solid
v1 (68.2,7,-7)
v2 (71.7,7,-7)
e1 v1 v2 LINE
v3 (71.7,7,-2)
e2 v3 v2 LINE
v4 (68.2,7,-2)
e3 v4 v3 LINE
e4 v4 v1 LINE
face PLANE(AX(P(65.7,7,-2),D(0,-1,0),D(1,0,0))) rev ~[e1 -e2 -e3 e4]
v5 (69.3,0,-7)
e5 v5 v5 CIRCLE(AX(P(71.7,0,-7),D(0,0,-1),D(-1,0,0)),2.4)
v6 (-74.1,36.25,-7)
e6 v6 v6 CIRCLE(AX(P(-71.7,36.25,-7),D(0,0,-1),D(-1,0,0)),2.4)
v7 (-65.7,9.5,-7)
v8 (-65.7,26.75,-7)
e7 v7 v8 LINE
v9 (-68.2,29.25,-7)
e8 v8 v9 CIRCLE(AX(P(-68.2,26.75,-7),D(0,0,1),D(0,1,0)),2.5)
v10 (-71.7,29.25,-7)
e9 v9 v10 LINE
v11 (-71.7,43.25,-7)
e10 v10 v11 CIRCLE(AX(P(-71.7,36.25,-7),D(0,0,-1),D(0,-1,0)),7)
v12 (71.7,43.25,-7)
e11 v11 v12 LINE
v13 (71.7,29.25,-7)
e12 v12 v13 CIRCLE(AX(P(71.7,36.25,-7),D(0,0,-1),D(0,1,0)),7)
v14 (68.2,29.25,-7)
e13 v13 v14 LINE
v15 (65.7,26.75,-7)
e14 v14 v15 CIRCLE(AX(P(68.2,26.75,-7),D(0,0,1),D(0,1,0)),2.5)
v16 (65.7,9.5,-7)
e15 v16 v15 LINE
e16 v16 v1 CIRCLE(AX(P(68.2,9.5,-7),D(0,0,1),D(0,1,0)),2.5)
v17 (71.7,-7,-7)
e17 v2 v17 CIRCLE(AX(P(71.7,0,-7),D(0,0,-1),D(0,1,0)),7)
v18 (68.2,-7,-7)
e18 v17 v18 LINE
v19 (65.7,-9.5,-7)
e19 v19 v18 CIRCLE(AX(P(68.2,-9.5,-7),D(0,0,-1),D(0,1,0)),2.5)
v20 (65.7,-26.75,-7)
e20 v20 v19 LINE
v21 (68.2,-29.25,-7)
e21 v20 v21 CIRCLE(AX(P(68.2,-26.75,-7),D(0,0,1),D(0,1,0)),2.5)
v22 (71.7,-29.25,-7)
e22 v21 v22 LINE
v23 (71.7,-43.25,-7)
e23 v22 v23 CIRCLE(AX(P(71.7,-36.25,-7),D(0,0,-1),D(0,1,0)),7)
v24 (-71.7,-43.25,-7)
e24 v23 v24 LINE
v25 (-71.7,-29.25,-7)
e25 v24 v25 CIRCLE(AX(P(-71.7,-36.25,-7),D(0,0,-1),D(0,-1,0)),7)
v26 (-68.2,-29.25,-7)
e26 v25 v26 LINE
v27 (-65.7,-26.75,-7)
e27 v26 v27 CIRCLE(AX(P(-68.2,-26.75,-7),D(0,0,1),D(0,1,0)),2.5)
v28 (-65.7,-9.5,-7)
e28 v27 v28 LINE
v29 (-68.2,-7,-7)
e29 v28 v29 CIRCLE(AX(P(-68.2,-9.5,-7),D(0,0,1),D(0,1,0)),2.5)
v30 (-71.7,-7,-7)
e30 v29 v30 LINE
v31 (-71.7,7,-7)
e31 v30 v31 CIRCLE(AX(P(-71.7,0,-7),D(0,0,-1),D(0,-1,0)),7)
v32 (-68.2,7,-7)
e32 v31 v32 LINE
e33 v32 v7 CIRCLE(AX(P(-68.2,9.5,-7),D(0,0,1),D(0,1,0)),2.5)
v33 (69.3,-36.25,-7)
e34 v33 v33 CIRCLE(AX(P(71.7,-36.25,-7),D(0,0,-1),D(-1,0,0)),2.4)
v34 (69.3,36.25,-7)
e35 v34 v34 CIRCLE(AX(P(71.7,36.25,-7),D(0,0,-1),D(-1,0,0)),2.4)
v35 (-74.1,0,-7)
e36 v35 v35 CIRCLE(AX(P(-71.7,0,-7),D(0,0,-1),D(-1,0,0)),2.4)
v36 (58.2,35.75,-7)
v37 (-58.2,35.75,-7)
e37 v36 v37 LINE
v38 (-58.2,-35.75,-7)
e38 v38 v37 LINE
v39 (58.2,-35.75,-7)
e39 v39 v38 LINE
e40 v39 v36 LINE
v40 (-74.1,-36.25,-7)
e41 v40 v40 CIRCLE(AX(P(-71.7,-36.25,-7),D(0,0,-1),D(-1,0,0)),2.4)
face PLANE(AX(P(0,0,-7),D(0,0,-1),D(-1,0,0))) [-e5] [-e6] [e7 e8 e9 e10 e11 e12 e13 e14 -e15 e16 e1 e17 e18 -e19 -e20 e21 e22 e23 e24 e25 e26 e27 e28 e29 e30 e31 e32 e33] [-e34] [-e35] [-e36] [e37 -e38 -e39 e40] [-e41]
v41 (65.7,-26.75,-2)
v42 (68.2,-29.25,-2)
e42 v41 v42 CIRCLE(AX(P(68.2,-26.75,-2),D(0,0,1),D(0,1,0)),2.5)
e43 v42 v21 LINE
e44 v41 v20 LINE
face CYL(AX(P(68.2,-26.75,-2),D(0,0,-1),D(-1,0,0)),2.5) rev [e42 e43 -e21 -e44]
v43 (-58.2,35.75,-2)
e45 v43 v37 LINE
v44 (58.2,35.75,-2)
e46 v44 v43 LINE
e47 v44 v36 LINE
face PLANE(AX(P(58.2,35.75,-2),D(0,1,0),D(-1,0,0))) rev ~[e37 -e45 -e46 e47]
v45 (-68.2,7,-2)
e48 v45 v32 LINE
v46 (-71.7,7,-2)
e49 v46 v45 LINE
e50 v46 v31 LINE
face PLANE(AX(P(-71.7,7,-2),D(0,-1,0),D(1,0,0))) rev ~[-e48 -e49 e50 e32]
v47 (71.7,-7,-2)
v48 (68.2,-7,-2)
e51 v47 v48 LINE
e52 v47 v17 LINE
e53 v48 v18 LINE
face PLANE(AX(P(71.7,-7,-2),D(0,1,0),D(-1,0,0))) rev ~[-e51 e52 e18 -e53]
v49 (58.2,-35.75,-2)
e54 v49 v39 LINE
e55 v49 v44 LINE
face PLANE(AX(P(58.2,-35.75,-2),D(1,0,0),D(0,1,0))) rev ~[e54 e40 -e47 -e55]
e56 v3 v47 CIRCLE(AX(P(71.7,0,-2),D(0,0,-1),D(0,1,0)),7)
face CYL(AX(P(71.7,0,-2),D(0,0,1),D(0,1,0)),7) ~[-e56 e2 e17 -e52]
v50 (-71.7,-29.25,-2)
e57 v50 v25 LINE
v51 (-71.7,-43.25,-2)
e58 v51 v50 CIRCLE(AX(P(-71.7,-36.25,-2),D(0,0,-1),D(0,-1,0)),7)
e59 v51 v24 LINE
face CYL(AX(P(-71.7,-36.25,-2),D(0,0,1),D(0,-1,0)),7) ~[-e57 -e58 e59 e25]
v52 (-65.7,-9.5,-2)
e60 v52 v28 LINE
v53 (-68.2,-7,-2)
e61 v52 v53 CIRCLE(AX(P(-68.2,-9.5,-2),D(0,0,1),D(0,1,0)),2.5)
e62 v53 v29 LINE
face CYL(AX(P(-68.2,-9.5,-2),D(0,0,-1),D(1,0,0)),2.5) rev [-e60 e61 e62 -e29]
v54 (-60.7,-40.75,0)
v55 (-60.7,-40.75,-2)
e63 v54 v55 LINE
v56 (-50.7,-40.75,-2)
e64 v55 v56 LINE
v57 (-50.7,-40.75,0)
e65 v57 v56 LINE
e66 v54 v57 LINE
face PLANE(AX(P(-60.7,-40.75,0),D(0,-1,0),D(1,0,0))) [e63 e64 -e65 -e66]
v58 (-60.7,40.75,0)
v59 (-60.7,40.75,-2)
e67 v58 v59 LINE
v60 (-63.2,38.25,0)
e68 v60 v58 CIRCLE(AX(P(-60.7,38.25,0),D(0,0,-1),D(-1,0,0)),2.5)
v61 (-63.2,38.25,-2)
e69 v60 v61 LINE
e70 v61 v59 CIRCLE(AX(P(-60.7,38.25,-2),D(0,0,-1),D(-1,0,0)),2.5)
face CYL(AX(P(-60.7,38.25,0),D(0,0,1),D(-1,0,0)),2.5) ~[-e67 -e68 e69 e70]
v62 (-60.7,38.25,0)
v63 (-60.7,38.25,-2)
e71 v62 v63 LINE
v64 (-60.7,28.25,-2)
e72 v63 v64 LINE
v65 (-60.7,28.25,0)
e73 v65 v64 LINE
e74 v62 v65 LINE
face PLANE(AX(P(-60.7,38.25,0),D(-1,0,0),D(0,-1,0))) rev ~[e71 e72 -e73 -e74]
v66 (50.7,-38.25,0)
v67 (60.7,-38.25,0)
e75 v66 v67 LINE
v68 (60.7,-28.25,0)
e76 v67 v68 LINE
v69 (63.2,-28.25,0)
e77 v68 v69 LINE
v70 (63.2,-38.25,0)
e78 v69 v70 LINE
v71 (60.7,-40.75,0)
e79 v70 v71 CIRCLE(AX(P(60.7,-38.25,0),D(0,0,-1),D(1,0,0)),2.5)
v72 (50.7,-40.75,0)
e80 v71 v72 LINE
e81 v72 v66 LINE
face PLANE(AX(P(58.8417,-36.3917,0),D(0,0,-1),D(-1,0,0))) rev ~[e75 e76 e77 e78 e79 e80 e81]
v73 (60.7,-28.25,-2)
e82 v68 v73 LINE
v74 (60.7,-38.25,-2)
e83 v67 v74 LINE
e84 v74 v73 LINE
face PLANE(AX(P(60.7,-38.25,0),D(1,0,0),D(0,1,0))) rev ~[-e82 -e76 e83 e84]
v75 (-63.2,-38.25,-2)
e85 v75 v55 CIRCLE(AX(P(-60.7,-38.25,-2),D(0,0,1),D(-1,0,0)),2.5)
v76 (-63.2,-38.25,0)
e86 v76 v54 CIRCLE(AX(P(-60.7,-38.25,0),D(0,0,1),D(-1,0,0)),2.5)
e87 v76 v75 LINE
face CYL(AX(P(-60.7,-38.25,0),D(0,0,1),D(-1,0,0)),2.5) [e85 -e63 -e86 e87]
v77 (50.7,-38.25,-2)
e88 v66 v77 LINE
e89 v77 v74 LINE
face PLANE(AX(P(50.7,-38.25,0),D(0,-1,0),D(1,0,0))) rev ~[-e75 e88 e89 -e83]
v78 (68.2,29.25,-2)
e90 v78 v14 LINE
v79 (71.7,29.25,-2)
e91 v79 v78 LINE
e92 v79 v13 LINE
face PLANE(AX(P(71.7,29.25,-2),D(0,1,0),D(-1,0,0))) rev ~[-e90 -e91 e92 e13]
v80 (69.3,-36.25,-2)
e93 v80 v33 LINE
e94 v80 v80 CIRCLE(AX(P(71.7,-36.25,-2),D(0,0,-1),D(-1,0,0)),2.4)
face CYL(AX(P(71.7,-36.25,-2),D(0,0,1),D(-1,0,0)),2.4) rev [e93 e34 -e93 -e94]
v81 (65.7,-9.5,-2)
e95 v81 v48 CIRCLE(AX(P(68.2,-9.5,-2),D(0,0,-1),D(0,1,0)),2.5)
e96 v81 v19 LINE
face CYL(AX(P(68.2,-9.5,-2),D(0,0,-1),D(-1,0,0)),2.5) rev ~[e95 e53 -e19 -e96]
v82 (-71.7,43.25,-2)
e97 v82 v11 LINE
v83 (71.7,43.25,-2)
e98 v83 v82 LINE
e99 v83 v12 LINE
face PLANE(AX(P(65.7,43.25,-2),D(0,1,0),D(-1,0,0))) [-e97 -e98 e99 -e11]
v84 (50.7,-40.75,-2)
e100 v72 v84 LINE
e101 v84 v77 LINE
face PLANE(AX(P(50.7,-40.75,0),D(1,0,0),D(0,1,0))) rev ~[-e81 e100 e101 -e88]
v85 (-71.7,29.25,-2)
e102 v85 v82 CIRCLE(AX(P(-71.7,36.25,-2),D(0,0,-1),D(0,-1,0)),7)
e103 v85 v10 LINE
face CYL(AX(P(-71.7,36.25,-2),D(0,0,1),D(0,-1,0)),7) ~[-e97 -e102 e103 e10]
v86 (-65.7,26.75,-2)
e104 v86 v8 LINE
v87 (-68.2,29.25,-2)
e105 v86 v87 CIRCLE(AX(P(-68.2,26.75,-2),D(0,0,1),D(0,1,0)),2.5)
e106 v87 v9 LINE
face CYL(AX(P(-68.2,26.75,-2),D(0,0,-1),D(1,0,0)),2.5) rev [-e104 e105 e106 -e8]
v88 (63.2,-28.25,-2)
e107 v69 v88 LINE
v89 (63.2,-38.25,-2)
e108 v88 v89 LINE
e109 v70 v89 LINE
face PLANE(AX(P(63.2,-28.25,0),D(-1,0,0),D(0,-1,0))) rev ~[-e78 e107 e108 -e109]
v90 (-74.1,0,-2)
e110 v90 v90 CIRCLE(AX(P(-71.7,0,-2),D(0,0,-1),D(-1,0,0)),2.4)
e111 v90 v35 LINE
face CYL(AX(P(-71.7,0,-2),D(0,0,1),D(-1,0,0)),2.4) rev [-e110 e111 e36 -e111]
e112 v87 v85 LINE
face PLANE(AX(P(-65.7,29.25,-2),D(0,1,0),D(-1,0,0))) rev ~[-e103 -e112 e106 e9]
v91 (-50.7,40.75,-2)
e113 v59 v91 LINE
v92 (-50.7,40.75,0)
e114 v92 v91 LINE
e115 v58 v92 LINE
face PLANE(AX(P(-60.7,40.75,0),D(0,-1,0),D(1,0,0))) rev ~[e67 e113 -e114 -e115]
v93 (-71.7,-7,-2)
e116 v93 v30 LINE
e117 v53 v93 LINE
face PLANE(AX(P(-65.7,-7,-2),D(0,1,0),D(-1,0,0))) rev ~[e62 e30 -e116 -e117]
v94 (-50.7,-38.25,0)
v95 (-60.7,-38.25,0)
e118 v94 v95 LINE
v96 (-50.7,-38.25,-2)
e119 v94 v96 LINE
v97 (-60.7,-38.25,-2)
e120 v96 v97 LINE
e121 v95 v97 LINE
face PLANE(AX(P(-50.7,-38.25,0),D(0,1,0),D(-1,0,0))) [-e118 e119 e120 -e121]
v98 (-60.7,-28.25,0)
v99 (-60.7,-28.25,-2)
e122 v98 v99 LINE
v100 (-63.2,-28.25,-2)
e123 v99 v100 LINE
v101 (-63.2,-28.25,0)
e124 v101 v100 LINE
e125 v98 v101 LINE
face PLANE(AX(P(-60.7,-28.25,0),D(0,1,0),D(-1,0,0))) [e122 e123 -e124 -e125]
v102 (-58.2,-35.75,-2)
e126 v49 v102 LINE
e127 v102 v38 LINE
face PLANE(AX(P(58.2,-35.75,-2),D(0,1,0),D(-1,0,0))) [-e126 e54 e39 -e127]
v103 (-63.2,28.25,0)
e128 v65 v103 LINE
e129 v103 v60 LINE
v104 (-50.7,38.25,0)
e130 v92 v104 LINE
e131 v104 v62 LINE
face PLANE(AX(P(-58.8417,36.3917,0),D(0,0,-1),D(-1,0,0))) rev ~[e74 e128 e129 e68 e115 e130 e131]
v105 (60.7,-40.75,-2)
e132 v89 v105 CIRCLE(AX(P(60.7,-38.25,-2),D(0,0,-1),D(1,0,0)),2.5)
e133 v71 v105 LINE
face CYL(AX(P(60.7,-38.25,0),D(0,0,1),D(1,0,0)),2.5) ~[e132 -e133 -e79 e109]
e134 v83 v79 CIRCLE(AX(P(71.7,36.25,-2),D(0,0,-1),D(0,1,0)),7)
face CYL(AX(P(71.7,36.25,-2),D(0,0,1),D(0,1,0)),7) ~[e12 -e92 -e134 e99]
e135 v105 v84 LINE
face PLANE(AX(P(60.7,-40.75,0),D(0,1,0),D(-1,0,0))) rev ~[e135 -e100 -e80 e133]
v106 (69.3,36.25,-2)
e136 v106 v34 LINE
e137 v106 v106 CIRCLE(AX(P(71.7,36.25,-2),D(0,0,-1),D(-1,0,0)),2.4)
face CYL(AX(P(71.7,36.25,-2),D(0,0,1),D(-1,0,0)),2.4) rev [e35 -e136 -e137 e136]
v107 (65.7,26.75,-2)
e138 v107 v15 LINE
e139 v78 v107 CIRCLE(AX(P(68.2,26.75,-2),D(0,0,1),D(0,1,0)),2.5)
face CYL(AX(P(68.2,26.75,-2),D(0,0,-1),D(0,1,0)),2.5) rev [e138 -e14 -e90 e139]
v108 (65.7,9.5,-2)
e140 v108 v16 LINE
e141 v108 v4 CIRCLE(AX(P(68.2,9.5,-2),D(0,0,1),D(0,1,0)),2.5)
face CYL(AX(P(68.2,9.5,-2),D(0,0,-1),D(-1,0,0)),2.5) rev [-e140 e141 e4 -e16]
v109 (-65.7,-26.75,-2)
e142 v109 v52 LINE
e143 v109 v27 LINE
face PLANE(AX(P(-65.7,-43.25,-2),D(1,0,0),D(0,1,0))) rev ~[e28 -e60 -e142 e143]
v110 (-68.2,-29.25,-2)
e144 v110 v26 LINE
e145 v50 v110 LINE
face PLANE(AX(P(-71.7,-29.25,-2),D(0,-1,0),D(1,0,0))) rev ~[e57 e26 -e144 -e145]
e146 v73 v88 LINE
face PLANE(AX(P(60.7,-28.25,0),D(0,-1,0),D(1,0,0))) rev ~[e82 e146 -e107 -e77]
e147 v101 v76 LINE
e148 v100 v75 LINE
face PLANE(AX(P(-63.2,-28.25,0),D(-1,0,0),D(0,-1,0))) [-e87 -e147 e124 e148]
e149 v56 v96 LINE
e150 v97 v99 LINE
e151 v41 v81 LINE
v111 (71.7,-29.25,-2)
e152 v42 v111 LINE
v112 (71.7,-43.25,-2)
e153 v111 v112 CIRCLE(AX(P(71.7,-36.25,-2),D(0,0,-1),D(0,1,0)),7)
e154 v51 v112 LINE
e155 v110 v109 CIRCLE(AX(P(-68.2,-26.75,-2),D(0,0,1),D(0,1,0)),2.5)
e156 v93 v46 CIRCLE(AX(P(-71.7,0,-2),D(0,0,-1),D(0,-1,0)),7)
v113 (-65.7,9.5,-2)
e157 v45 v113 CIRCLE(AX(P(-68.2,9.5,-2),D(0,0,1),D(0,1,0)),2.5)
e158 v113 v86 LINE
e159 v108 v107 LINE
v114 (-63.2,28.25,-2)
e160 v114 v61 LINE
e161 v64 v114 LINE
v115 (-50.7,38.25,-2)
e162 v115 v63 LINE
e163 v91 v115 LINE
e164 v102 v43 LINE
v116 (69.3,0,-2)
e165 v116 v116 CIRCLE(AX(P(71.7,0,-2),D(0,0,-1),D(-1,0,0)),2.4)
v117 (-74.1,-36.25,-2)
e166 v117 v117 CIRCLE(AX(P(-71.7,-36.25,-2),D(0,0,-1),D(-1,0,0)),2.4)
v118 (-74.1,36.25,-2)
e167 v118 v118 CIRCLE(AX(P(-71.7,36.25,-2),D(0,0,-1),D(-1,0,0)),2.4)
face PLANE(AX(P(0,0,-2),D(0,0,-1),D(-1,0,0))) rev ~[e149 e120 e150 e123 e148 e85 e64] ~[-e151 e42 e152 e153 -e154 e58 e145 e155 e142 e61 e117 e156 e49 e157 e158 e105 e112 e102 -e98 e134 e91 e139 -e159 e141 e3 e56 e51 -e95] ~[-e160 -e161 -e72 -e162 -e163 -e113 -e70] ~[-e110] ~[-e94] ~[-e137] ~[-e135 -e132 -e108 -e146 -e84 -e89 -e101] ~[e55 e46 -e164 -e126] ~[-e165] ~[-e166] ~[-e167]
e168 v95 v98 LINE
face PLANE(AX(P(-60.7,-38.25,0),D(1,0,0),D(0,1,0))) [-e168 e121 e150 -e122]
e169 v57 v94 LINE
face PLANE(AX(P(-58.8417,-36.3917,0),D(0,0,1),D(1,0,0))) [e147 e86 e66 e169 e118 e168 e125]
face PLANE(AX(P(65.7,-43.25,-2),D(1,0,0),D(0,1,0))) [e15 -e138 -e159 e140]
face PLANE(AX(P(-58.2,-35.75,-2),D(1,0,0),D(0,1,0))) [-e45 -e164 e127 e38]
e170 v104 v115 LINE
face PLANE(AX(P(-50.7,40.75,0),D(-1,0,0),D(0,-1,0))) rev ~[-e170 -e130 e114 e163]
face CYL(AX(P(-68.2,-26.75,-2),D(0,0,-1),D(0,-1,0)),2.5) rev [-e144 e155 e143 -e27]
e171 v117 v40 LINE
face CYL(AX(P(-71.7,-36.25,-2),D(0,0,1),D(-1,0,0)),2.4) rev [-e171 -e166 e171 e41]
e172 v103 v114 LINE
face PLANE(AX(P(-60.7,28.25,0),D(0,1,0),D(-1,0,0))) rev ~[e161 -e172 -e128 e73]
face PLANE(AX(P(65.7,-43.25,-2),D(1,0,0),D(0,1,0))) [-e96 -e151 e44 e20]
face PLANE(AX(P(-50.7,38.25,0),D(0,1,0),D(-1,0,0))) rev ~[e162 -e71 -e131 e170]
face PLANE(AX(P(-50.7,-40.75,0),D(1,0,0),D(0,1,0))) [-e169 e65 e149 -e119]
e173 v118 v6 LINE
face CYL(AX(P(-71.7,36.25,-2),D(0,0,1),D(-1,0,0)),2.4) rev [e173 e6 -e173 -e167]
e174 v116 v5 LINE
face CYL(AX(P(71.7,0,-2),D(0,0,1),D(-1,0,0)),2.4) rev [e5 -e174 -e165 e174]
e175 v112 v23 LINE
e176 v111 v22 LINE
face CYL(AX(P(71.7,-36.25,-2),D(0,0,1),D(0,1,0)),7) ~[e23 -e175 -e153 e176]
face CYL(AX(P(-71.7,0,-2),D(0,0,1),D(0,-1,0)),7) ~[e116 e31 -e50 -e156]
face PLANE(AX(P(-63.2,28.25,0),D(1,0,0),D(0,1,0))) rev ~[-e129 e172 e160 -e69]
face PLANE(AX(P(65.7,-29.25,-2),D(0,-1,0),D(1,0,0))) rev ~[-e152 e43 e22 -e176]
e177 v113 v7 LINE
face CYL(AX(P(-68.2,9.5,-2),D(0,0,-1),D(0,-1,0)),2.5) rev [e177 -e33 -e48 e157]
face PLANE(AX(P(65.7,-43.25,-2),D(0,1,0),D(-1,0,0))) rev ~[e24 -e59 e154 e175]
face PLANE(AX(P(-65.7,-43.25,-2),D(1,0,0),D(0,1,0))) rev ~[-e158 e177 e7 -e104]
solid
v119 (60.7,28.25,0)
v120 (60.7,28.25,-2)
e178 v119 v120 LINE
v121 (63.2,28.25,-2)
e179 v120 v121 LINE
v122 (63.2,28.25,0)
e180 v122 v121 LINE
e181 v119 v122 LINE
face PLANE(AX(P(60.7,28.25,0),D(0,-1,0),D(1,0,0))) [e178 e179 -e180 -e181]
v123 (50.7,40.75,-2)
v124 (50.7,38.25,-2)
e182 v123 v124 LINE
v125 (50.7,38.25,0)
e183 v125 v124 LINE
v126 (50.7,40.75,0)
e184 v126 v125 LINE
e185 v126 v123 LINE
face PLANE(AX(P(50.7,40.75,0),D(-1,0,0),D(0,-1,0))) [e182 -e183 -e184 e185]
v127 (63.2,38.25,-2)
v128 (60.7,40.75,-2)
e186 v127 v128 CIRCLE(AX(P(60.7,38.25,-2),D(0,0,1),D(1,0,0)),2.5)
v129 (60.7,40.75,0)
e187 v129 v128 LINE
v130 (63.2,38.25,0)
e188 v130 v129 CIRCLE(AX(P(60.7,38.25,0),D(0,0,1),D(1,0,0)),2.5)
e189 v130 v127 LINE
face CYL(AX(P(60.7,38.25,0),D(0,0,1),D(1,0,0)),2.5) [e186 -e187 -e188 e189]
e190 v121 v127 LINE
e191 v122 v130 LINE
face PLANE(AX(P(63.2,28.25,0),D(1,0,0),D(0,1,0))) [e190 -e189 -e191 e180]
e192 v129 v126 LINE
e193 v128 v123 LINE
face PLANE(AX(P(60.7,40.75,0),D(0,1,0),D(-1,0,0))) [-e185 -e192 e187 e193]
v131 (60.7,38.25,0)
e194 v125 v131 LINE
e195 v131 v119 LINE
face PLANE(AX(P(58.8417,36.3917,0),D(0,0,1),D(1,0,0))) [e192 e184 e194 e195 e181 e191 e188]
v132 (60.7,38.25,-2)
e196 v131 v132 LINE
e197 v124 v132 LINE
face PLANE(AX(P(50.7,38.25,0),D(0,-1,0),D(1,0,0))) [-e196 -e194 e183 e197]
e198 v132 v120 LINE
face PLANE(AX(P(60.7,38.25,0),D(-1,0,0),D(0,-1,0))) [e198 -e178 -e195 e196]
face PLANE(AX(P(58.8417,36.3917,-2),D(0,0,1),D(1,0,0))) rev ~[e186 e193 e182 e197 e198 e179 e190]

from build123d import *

# Parameters (mm, degrees)
BOSS_EXTRUDE3_DEPTH   = 2
BOSS_EXTRUDE3_2_DEPTH = 2
BOSS_EXTRUDE3_3_DEPTH = 2
BOSS_EXTRUDE3_4_DEPTH = 2
SKETCH2_W             = 131.4
SKETCH2_H             = 86.5
SKETCH2_W_2           = 116.4
SKETCH2_H_2           = 71.5
SKETCH2_R             = 2.4
BOSS_EXTRUDE4_DEPTH   = 5
FILLET1_R             = 2.5


with BuildPart() as part:
    # Sketch1 → Boss-Extrude3 (new body)
    with BuildSketch(Plane.XY):
        with BuildLine():
            ThreePointArc((63.2, -38.25), (62.467766953, -40.017766953), (60.7, -40.75))
            Line((60.7, -40.75), (50.7, -40.75))
            Line((50.7, -40.75), (50.7, -38.25))
            Line((50.7, -38.25), (60.7, -38.25))
            Line((60.7, -38.25), (60.7, -28.25))
            Line((60.7, -28.25), (63.2, -28.25))
            Line((63.2, -28.25), (63.2, -38.25))
        make_face()
    extrude(amount=-BOSS_EXTRUDE3_DEPTH)



with BuildPart() as body_2:
    # Sketch1 → Boss-Extrude3 2 (new body)
    with BuildSketch(Plane.XY):
        with BuildLine():
            Line((63.2, 28.25), (63.2, 38.25))
            ThreePointArc((63.2, 38.25), (62.467766953, 40.017766953), (60.7, 40.75))
            Line((60.7, 40.75), (50.7, 40.75))
            Line((50.7, 40.75), (50.7, 38.25))
            Line((50.7, 38.25), (60.7, 38.25))
            Line((60.7, 38.25), (60.7, 28.25))
            Line((60.7, 28.25), (63.2, 28.25))
        make_face()
    extrude(amount=-BOSS_EXTRUDE3_2_DEPTH)


with BuildPart() as body_3:
    # Sketch1 → Boss-Extrude3 3 (new body)
    with BuildSketch(Plane.XY):
        with BuildLine():
            ThreePointArc((-63.2, 38.25), (-62.467766953, 40.017766953), (-60.7, 40.75))
            Line((-60.7, 40.75), (-50.7, 40.75))
            Line((-50.7, 40.75), (-50.7, 38.25))
            Line((-50.7, 38.25), (-60.7, 38.25))
            Line((-60.7, 38.25), (-60.7, 28.25))
            Line((-60.7, 28.25), (-63.2, 28.25))
            Line((-63.2, 28.25), (-63.2, 38.25))
        make_face()
    extrude(amount=-BOSS_EXTRUDE3_3_DEPTH)


with BuildPart() as body_4:
    # Sketch1 → Boss-Extrude3 4 (new body)
    with BuildSketch(Plane.XY):
        with BuildLine():
            Line((-63.2, -28.25), (-63.2, -38.25))
            ThreePointArc((-63.2, -38.25), (-62.467766953, -40.017766953), (-60.7, -40.75))
            Line((-60.7, -40.75), (-50.7, -40.75))
            Line((-50.7, -40.75), (-50.7, -38.25))
            Line((-50.7, -38.25), (-60.7, -38.25))
            Line((-60.7, -38.25), (-60.7, -28.25))
            Line((-60.7, -28.25), (-63.2, -28.25))
        make_face()
    extrude(amount=-BOSS_EXTRUDE3_4_DEPTH)


with BuildPart() as part_1:
    add(part.part)

    add(body_3.part)  # Boss-Extrude4 merges body 3

    add(body_4.part)  # Boss-Extrude4 merges body 4
    # Sketch2 → Boss-Extrude4 (add)
    # profile 1 of 8: a face of its own
    with BuildSketch(Plane(origin=(0, 0, -2), x_dir=(-1, 0, 0), z_dir=(0, 0, -1))):
        Rectangle(SKETCH2_W, SKETCH2_H)
        Rectangle(SKETCH2_W_2, SKETCH2_H_2, mode=Mode.SUBTRACT)
        with BuildLine():
            Line((-63.2, 38.25), (-63.2, 28.25))
            Line((-63.2, 28.25), (-60.7, 28.25))
            Line((-60.7, 28.25), (-60.7, 38.25))
            Line((-60.7, 38.25), (-50.7, 38.25))
            Line((-50.7, 38.25), (-50.7, 40.75))
            Line((-50.7, 40.75), (-60.7, 40.75))
            ThreePointArc((-60.7, 40.75), (-62.467766953, 40.017766953), (-63.2, 38.25))
        make_face(mode=Mode.SUBTRACT)
    # profile 2 of 8: a face of its own
    with BuildSketch(Plane(origin=(0, 0, -2), x_dir=(-1, 0, 0), z_dir=(0, 0, -1))):
        with BuildLine():
            Line((-65.7, 29.25), (-65.7, 43.25))
            Line((-65.7, 43.25), (-71.7, 43.25))
            ThreePointArc((-71.7, 43.25), (-78.7, 36.25), (-71.7, 29.25))
            Line((-71.7, 29.25), (-65.7, 29.25))
        make_face()
        with Locations((-71.7, 36.25)):
            Circle(SKETCH2_R, mode=Mode.SUBTRACT)
    # profile 3 of 8: a face of its own
    with BuildSketch(Plane(origin=(0, 0, -2), x_dir=(-1, 0, 0), z_dir=(0, 0, -1))):
        with BuildLine():
            Line((-65.7, -7), (-65.7, 7))
            Line((-65.7, 7), (-71.7, 7))
            ThreePointArc((-71.7, 7), (-78.7, 0), (-71.7, -7))
            Line((-71.7, -7), (-65.7, -7))
        make_face()
        with Locations((-71.7, 0)):
            Circle(SKETCH2_R, mode=Mode.SUBTRACT)
    # profile 4 of 8: a face of its own
    with BuildSketch(Plane(origin=(0, 0, -2), x_dir=(-1, 0, 0), z_dir=(0, 0, -1))):
        with BuildLine():
            Line((-65.7, -43.25), (-65.7, -29.25))
            Line((-65.7, -29.25), (-71.7, -29.25))
            ThreePointArc((-71.7, -29.25), (-78.7, -36.25), (-71.7, -43.25))
            Line((-71.7, -43.25), (-65.7, -43.25))
        make_face()
        with Locations((-71.7, -36.25)):
            Circle(SKETCH2_R, mode=Mode.SUBTRACT)
    # profile 5 of 8: a face of its own
    with BuildSketch(Plane(origin=(0, 0, -2), x_dir=(-1, 0, 0), z_dir=(0, 0, -1))):
        with BuildLine():
            Line((71.7, 43.25), (65.7, 43.25))
            Line((65.7, 43.25), (65.7, 29.25))
            Line((65.7, 29.25), (71.7, 29.25))
            ThreePointArc((71.7, 29.25), (78.7, 36.25), (71.7, 43.25))
        make_face()
        with Locations((71.7, 36.25)):
            Circle(SKETCH2_R, mode=Mode.SUBTRACT)
    # profile 6 of 8: a face of its own
    with BuildSketch(Plane(origin=(0, 0, -2), x_dir=(-1, 0, 0), z_dir=(0, 0, -1))):
        with BuildLine():
            Line((71.7, 7), (65.7, 7))
            Line((65.7, 7), (65.7, -7))
            Line((65.7, -7), (71.7, -7))
            ThreePointArc((71.7, -7), (78.7, 0), (71.7, 7))
        make_face()
        with Locations((71.7, 0)):
            Circle(SKETCH2_R, mode=Mode.SUBTRACT)
    # profile 7 of 8: a face of its own
    with BuildSketch(Plane(origin=(0, 0, -2), x_dir=(-1, 0, 0), z_dir=(0, 0, -1))):
        with BuildLine():
            Line((71.7, -29.25), (65.7, -29.25))
            Line((65.7, -29.25), (65.7, -43.25))
            Line((65.7, -43.25), (71.7, -43.25))
            ThreePointArc((71.7, -43.25), (78.7, -36.25), (71.7, -29.25))
        make_face()
        with Locations((71.7, -36.25)):
            Circle(SKETCH2_R, mode=Mode.SUBTRACT)
    # profile 8 of 8: a face of its own
    with BuildSketch(Plane(origin=(0, 0, -2), x_dir=(-1, 0, 0), z_dir=(0, 0, -1))):
        with BuildLine():
            ThreePointArc((-60.7, 40.75), (-62.467766953, 40.017766953), (-63.2, 38.25))
            Line((-63.2, 38.25), (-63.2, 28.25))
            Line((-63.2, 28.25), (-60.7, 28.25))
            Line((-60.7, 28.25), (-60.7, 38.25))
            Line((-60.7, 38.25), (-50.7, 38.25))
            Line((-50.7, 38.25), (-50.7, 40.75))
            Line((-50.7, 40.75), (-60.7, 40.75))
        make_face()
    extrude(amount=BOSS_EXTRUDE4_DEPTH)

    # Fillet1
    fillet1_edges = [part_1.edges().sort_by_distance(p)[0] for p in [
        (-65.7, 7, -4.5),
        (-65.7, 29.25, -4.5),
        (65.7, 29.25, -4.5),
        (65.7, 7, -4.5),
        (65.7, -7, -4.5),
        (65.7, -29.25, -4.5),
        (-65.7, -29.25, -4.5),
        (-65.7, -7, -4.5),
    ]]
    fillet(fillet1_edges, radius=FILLET1_R)


solid = Compound([body_2.part, part_1.part])
